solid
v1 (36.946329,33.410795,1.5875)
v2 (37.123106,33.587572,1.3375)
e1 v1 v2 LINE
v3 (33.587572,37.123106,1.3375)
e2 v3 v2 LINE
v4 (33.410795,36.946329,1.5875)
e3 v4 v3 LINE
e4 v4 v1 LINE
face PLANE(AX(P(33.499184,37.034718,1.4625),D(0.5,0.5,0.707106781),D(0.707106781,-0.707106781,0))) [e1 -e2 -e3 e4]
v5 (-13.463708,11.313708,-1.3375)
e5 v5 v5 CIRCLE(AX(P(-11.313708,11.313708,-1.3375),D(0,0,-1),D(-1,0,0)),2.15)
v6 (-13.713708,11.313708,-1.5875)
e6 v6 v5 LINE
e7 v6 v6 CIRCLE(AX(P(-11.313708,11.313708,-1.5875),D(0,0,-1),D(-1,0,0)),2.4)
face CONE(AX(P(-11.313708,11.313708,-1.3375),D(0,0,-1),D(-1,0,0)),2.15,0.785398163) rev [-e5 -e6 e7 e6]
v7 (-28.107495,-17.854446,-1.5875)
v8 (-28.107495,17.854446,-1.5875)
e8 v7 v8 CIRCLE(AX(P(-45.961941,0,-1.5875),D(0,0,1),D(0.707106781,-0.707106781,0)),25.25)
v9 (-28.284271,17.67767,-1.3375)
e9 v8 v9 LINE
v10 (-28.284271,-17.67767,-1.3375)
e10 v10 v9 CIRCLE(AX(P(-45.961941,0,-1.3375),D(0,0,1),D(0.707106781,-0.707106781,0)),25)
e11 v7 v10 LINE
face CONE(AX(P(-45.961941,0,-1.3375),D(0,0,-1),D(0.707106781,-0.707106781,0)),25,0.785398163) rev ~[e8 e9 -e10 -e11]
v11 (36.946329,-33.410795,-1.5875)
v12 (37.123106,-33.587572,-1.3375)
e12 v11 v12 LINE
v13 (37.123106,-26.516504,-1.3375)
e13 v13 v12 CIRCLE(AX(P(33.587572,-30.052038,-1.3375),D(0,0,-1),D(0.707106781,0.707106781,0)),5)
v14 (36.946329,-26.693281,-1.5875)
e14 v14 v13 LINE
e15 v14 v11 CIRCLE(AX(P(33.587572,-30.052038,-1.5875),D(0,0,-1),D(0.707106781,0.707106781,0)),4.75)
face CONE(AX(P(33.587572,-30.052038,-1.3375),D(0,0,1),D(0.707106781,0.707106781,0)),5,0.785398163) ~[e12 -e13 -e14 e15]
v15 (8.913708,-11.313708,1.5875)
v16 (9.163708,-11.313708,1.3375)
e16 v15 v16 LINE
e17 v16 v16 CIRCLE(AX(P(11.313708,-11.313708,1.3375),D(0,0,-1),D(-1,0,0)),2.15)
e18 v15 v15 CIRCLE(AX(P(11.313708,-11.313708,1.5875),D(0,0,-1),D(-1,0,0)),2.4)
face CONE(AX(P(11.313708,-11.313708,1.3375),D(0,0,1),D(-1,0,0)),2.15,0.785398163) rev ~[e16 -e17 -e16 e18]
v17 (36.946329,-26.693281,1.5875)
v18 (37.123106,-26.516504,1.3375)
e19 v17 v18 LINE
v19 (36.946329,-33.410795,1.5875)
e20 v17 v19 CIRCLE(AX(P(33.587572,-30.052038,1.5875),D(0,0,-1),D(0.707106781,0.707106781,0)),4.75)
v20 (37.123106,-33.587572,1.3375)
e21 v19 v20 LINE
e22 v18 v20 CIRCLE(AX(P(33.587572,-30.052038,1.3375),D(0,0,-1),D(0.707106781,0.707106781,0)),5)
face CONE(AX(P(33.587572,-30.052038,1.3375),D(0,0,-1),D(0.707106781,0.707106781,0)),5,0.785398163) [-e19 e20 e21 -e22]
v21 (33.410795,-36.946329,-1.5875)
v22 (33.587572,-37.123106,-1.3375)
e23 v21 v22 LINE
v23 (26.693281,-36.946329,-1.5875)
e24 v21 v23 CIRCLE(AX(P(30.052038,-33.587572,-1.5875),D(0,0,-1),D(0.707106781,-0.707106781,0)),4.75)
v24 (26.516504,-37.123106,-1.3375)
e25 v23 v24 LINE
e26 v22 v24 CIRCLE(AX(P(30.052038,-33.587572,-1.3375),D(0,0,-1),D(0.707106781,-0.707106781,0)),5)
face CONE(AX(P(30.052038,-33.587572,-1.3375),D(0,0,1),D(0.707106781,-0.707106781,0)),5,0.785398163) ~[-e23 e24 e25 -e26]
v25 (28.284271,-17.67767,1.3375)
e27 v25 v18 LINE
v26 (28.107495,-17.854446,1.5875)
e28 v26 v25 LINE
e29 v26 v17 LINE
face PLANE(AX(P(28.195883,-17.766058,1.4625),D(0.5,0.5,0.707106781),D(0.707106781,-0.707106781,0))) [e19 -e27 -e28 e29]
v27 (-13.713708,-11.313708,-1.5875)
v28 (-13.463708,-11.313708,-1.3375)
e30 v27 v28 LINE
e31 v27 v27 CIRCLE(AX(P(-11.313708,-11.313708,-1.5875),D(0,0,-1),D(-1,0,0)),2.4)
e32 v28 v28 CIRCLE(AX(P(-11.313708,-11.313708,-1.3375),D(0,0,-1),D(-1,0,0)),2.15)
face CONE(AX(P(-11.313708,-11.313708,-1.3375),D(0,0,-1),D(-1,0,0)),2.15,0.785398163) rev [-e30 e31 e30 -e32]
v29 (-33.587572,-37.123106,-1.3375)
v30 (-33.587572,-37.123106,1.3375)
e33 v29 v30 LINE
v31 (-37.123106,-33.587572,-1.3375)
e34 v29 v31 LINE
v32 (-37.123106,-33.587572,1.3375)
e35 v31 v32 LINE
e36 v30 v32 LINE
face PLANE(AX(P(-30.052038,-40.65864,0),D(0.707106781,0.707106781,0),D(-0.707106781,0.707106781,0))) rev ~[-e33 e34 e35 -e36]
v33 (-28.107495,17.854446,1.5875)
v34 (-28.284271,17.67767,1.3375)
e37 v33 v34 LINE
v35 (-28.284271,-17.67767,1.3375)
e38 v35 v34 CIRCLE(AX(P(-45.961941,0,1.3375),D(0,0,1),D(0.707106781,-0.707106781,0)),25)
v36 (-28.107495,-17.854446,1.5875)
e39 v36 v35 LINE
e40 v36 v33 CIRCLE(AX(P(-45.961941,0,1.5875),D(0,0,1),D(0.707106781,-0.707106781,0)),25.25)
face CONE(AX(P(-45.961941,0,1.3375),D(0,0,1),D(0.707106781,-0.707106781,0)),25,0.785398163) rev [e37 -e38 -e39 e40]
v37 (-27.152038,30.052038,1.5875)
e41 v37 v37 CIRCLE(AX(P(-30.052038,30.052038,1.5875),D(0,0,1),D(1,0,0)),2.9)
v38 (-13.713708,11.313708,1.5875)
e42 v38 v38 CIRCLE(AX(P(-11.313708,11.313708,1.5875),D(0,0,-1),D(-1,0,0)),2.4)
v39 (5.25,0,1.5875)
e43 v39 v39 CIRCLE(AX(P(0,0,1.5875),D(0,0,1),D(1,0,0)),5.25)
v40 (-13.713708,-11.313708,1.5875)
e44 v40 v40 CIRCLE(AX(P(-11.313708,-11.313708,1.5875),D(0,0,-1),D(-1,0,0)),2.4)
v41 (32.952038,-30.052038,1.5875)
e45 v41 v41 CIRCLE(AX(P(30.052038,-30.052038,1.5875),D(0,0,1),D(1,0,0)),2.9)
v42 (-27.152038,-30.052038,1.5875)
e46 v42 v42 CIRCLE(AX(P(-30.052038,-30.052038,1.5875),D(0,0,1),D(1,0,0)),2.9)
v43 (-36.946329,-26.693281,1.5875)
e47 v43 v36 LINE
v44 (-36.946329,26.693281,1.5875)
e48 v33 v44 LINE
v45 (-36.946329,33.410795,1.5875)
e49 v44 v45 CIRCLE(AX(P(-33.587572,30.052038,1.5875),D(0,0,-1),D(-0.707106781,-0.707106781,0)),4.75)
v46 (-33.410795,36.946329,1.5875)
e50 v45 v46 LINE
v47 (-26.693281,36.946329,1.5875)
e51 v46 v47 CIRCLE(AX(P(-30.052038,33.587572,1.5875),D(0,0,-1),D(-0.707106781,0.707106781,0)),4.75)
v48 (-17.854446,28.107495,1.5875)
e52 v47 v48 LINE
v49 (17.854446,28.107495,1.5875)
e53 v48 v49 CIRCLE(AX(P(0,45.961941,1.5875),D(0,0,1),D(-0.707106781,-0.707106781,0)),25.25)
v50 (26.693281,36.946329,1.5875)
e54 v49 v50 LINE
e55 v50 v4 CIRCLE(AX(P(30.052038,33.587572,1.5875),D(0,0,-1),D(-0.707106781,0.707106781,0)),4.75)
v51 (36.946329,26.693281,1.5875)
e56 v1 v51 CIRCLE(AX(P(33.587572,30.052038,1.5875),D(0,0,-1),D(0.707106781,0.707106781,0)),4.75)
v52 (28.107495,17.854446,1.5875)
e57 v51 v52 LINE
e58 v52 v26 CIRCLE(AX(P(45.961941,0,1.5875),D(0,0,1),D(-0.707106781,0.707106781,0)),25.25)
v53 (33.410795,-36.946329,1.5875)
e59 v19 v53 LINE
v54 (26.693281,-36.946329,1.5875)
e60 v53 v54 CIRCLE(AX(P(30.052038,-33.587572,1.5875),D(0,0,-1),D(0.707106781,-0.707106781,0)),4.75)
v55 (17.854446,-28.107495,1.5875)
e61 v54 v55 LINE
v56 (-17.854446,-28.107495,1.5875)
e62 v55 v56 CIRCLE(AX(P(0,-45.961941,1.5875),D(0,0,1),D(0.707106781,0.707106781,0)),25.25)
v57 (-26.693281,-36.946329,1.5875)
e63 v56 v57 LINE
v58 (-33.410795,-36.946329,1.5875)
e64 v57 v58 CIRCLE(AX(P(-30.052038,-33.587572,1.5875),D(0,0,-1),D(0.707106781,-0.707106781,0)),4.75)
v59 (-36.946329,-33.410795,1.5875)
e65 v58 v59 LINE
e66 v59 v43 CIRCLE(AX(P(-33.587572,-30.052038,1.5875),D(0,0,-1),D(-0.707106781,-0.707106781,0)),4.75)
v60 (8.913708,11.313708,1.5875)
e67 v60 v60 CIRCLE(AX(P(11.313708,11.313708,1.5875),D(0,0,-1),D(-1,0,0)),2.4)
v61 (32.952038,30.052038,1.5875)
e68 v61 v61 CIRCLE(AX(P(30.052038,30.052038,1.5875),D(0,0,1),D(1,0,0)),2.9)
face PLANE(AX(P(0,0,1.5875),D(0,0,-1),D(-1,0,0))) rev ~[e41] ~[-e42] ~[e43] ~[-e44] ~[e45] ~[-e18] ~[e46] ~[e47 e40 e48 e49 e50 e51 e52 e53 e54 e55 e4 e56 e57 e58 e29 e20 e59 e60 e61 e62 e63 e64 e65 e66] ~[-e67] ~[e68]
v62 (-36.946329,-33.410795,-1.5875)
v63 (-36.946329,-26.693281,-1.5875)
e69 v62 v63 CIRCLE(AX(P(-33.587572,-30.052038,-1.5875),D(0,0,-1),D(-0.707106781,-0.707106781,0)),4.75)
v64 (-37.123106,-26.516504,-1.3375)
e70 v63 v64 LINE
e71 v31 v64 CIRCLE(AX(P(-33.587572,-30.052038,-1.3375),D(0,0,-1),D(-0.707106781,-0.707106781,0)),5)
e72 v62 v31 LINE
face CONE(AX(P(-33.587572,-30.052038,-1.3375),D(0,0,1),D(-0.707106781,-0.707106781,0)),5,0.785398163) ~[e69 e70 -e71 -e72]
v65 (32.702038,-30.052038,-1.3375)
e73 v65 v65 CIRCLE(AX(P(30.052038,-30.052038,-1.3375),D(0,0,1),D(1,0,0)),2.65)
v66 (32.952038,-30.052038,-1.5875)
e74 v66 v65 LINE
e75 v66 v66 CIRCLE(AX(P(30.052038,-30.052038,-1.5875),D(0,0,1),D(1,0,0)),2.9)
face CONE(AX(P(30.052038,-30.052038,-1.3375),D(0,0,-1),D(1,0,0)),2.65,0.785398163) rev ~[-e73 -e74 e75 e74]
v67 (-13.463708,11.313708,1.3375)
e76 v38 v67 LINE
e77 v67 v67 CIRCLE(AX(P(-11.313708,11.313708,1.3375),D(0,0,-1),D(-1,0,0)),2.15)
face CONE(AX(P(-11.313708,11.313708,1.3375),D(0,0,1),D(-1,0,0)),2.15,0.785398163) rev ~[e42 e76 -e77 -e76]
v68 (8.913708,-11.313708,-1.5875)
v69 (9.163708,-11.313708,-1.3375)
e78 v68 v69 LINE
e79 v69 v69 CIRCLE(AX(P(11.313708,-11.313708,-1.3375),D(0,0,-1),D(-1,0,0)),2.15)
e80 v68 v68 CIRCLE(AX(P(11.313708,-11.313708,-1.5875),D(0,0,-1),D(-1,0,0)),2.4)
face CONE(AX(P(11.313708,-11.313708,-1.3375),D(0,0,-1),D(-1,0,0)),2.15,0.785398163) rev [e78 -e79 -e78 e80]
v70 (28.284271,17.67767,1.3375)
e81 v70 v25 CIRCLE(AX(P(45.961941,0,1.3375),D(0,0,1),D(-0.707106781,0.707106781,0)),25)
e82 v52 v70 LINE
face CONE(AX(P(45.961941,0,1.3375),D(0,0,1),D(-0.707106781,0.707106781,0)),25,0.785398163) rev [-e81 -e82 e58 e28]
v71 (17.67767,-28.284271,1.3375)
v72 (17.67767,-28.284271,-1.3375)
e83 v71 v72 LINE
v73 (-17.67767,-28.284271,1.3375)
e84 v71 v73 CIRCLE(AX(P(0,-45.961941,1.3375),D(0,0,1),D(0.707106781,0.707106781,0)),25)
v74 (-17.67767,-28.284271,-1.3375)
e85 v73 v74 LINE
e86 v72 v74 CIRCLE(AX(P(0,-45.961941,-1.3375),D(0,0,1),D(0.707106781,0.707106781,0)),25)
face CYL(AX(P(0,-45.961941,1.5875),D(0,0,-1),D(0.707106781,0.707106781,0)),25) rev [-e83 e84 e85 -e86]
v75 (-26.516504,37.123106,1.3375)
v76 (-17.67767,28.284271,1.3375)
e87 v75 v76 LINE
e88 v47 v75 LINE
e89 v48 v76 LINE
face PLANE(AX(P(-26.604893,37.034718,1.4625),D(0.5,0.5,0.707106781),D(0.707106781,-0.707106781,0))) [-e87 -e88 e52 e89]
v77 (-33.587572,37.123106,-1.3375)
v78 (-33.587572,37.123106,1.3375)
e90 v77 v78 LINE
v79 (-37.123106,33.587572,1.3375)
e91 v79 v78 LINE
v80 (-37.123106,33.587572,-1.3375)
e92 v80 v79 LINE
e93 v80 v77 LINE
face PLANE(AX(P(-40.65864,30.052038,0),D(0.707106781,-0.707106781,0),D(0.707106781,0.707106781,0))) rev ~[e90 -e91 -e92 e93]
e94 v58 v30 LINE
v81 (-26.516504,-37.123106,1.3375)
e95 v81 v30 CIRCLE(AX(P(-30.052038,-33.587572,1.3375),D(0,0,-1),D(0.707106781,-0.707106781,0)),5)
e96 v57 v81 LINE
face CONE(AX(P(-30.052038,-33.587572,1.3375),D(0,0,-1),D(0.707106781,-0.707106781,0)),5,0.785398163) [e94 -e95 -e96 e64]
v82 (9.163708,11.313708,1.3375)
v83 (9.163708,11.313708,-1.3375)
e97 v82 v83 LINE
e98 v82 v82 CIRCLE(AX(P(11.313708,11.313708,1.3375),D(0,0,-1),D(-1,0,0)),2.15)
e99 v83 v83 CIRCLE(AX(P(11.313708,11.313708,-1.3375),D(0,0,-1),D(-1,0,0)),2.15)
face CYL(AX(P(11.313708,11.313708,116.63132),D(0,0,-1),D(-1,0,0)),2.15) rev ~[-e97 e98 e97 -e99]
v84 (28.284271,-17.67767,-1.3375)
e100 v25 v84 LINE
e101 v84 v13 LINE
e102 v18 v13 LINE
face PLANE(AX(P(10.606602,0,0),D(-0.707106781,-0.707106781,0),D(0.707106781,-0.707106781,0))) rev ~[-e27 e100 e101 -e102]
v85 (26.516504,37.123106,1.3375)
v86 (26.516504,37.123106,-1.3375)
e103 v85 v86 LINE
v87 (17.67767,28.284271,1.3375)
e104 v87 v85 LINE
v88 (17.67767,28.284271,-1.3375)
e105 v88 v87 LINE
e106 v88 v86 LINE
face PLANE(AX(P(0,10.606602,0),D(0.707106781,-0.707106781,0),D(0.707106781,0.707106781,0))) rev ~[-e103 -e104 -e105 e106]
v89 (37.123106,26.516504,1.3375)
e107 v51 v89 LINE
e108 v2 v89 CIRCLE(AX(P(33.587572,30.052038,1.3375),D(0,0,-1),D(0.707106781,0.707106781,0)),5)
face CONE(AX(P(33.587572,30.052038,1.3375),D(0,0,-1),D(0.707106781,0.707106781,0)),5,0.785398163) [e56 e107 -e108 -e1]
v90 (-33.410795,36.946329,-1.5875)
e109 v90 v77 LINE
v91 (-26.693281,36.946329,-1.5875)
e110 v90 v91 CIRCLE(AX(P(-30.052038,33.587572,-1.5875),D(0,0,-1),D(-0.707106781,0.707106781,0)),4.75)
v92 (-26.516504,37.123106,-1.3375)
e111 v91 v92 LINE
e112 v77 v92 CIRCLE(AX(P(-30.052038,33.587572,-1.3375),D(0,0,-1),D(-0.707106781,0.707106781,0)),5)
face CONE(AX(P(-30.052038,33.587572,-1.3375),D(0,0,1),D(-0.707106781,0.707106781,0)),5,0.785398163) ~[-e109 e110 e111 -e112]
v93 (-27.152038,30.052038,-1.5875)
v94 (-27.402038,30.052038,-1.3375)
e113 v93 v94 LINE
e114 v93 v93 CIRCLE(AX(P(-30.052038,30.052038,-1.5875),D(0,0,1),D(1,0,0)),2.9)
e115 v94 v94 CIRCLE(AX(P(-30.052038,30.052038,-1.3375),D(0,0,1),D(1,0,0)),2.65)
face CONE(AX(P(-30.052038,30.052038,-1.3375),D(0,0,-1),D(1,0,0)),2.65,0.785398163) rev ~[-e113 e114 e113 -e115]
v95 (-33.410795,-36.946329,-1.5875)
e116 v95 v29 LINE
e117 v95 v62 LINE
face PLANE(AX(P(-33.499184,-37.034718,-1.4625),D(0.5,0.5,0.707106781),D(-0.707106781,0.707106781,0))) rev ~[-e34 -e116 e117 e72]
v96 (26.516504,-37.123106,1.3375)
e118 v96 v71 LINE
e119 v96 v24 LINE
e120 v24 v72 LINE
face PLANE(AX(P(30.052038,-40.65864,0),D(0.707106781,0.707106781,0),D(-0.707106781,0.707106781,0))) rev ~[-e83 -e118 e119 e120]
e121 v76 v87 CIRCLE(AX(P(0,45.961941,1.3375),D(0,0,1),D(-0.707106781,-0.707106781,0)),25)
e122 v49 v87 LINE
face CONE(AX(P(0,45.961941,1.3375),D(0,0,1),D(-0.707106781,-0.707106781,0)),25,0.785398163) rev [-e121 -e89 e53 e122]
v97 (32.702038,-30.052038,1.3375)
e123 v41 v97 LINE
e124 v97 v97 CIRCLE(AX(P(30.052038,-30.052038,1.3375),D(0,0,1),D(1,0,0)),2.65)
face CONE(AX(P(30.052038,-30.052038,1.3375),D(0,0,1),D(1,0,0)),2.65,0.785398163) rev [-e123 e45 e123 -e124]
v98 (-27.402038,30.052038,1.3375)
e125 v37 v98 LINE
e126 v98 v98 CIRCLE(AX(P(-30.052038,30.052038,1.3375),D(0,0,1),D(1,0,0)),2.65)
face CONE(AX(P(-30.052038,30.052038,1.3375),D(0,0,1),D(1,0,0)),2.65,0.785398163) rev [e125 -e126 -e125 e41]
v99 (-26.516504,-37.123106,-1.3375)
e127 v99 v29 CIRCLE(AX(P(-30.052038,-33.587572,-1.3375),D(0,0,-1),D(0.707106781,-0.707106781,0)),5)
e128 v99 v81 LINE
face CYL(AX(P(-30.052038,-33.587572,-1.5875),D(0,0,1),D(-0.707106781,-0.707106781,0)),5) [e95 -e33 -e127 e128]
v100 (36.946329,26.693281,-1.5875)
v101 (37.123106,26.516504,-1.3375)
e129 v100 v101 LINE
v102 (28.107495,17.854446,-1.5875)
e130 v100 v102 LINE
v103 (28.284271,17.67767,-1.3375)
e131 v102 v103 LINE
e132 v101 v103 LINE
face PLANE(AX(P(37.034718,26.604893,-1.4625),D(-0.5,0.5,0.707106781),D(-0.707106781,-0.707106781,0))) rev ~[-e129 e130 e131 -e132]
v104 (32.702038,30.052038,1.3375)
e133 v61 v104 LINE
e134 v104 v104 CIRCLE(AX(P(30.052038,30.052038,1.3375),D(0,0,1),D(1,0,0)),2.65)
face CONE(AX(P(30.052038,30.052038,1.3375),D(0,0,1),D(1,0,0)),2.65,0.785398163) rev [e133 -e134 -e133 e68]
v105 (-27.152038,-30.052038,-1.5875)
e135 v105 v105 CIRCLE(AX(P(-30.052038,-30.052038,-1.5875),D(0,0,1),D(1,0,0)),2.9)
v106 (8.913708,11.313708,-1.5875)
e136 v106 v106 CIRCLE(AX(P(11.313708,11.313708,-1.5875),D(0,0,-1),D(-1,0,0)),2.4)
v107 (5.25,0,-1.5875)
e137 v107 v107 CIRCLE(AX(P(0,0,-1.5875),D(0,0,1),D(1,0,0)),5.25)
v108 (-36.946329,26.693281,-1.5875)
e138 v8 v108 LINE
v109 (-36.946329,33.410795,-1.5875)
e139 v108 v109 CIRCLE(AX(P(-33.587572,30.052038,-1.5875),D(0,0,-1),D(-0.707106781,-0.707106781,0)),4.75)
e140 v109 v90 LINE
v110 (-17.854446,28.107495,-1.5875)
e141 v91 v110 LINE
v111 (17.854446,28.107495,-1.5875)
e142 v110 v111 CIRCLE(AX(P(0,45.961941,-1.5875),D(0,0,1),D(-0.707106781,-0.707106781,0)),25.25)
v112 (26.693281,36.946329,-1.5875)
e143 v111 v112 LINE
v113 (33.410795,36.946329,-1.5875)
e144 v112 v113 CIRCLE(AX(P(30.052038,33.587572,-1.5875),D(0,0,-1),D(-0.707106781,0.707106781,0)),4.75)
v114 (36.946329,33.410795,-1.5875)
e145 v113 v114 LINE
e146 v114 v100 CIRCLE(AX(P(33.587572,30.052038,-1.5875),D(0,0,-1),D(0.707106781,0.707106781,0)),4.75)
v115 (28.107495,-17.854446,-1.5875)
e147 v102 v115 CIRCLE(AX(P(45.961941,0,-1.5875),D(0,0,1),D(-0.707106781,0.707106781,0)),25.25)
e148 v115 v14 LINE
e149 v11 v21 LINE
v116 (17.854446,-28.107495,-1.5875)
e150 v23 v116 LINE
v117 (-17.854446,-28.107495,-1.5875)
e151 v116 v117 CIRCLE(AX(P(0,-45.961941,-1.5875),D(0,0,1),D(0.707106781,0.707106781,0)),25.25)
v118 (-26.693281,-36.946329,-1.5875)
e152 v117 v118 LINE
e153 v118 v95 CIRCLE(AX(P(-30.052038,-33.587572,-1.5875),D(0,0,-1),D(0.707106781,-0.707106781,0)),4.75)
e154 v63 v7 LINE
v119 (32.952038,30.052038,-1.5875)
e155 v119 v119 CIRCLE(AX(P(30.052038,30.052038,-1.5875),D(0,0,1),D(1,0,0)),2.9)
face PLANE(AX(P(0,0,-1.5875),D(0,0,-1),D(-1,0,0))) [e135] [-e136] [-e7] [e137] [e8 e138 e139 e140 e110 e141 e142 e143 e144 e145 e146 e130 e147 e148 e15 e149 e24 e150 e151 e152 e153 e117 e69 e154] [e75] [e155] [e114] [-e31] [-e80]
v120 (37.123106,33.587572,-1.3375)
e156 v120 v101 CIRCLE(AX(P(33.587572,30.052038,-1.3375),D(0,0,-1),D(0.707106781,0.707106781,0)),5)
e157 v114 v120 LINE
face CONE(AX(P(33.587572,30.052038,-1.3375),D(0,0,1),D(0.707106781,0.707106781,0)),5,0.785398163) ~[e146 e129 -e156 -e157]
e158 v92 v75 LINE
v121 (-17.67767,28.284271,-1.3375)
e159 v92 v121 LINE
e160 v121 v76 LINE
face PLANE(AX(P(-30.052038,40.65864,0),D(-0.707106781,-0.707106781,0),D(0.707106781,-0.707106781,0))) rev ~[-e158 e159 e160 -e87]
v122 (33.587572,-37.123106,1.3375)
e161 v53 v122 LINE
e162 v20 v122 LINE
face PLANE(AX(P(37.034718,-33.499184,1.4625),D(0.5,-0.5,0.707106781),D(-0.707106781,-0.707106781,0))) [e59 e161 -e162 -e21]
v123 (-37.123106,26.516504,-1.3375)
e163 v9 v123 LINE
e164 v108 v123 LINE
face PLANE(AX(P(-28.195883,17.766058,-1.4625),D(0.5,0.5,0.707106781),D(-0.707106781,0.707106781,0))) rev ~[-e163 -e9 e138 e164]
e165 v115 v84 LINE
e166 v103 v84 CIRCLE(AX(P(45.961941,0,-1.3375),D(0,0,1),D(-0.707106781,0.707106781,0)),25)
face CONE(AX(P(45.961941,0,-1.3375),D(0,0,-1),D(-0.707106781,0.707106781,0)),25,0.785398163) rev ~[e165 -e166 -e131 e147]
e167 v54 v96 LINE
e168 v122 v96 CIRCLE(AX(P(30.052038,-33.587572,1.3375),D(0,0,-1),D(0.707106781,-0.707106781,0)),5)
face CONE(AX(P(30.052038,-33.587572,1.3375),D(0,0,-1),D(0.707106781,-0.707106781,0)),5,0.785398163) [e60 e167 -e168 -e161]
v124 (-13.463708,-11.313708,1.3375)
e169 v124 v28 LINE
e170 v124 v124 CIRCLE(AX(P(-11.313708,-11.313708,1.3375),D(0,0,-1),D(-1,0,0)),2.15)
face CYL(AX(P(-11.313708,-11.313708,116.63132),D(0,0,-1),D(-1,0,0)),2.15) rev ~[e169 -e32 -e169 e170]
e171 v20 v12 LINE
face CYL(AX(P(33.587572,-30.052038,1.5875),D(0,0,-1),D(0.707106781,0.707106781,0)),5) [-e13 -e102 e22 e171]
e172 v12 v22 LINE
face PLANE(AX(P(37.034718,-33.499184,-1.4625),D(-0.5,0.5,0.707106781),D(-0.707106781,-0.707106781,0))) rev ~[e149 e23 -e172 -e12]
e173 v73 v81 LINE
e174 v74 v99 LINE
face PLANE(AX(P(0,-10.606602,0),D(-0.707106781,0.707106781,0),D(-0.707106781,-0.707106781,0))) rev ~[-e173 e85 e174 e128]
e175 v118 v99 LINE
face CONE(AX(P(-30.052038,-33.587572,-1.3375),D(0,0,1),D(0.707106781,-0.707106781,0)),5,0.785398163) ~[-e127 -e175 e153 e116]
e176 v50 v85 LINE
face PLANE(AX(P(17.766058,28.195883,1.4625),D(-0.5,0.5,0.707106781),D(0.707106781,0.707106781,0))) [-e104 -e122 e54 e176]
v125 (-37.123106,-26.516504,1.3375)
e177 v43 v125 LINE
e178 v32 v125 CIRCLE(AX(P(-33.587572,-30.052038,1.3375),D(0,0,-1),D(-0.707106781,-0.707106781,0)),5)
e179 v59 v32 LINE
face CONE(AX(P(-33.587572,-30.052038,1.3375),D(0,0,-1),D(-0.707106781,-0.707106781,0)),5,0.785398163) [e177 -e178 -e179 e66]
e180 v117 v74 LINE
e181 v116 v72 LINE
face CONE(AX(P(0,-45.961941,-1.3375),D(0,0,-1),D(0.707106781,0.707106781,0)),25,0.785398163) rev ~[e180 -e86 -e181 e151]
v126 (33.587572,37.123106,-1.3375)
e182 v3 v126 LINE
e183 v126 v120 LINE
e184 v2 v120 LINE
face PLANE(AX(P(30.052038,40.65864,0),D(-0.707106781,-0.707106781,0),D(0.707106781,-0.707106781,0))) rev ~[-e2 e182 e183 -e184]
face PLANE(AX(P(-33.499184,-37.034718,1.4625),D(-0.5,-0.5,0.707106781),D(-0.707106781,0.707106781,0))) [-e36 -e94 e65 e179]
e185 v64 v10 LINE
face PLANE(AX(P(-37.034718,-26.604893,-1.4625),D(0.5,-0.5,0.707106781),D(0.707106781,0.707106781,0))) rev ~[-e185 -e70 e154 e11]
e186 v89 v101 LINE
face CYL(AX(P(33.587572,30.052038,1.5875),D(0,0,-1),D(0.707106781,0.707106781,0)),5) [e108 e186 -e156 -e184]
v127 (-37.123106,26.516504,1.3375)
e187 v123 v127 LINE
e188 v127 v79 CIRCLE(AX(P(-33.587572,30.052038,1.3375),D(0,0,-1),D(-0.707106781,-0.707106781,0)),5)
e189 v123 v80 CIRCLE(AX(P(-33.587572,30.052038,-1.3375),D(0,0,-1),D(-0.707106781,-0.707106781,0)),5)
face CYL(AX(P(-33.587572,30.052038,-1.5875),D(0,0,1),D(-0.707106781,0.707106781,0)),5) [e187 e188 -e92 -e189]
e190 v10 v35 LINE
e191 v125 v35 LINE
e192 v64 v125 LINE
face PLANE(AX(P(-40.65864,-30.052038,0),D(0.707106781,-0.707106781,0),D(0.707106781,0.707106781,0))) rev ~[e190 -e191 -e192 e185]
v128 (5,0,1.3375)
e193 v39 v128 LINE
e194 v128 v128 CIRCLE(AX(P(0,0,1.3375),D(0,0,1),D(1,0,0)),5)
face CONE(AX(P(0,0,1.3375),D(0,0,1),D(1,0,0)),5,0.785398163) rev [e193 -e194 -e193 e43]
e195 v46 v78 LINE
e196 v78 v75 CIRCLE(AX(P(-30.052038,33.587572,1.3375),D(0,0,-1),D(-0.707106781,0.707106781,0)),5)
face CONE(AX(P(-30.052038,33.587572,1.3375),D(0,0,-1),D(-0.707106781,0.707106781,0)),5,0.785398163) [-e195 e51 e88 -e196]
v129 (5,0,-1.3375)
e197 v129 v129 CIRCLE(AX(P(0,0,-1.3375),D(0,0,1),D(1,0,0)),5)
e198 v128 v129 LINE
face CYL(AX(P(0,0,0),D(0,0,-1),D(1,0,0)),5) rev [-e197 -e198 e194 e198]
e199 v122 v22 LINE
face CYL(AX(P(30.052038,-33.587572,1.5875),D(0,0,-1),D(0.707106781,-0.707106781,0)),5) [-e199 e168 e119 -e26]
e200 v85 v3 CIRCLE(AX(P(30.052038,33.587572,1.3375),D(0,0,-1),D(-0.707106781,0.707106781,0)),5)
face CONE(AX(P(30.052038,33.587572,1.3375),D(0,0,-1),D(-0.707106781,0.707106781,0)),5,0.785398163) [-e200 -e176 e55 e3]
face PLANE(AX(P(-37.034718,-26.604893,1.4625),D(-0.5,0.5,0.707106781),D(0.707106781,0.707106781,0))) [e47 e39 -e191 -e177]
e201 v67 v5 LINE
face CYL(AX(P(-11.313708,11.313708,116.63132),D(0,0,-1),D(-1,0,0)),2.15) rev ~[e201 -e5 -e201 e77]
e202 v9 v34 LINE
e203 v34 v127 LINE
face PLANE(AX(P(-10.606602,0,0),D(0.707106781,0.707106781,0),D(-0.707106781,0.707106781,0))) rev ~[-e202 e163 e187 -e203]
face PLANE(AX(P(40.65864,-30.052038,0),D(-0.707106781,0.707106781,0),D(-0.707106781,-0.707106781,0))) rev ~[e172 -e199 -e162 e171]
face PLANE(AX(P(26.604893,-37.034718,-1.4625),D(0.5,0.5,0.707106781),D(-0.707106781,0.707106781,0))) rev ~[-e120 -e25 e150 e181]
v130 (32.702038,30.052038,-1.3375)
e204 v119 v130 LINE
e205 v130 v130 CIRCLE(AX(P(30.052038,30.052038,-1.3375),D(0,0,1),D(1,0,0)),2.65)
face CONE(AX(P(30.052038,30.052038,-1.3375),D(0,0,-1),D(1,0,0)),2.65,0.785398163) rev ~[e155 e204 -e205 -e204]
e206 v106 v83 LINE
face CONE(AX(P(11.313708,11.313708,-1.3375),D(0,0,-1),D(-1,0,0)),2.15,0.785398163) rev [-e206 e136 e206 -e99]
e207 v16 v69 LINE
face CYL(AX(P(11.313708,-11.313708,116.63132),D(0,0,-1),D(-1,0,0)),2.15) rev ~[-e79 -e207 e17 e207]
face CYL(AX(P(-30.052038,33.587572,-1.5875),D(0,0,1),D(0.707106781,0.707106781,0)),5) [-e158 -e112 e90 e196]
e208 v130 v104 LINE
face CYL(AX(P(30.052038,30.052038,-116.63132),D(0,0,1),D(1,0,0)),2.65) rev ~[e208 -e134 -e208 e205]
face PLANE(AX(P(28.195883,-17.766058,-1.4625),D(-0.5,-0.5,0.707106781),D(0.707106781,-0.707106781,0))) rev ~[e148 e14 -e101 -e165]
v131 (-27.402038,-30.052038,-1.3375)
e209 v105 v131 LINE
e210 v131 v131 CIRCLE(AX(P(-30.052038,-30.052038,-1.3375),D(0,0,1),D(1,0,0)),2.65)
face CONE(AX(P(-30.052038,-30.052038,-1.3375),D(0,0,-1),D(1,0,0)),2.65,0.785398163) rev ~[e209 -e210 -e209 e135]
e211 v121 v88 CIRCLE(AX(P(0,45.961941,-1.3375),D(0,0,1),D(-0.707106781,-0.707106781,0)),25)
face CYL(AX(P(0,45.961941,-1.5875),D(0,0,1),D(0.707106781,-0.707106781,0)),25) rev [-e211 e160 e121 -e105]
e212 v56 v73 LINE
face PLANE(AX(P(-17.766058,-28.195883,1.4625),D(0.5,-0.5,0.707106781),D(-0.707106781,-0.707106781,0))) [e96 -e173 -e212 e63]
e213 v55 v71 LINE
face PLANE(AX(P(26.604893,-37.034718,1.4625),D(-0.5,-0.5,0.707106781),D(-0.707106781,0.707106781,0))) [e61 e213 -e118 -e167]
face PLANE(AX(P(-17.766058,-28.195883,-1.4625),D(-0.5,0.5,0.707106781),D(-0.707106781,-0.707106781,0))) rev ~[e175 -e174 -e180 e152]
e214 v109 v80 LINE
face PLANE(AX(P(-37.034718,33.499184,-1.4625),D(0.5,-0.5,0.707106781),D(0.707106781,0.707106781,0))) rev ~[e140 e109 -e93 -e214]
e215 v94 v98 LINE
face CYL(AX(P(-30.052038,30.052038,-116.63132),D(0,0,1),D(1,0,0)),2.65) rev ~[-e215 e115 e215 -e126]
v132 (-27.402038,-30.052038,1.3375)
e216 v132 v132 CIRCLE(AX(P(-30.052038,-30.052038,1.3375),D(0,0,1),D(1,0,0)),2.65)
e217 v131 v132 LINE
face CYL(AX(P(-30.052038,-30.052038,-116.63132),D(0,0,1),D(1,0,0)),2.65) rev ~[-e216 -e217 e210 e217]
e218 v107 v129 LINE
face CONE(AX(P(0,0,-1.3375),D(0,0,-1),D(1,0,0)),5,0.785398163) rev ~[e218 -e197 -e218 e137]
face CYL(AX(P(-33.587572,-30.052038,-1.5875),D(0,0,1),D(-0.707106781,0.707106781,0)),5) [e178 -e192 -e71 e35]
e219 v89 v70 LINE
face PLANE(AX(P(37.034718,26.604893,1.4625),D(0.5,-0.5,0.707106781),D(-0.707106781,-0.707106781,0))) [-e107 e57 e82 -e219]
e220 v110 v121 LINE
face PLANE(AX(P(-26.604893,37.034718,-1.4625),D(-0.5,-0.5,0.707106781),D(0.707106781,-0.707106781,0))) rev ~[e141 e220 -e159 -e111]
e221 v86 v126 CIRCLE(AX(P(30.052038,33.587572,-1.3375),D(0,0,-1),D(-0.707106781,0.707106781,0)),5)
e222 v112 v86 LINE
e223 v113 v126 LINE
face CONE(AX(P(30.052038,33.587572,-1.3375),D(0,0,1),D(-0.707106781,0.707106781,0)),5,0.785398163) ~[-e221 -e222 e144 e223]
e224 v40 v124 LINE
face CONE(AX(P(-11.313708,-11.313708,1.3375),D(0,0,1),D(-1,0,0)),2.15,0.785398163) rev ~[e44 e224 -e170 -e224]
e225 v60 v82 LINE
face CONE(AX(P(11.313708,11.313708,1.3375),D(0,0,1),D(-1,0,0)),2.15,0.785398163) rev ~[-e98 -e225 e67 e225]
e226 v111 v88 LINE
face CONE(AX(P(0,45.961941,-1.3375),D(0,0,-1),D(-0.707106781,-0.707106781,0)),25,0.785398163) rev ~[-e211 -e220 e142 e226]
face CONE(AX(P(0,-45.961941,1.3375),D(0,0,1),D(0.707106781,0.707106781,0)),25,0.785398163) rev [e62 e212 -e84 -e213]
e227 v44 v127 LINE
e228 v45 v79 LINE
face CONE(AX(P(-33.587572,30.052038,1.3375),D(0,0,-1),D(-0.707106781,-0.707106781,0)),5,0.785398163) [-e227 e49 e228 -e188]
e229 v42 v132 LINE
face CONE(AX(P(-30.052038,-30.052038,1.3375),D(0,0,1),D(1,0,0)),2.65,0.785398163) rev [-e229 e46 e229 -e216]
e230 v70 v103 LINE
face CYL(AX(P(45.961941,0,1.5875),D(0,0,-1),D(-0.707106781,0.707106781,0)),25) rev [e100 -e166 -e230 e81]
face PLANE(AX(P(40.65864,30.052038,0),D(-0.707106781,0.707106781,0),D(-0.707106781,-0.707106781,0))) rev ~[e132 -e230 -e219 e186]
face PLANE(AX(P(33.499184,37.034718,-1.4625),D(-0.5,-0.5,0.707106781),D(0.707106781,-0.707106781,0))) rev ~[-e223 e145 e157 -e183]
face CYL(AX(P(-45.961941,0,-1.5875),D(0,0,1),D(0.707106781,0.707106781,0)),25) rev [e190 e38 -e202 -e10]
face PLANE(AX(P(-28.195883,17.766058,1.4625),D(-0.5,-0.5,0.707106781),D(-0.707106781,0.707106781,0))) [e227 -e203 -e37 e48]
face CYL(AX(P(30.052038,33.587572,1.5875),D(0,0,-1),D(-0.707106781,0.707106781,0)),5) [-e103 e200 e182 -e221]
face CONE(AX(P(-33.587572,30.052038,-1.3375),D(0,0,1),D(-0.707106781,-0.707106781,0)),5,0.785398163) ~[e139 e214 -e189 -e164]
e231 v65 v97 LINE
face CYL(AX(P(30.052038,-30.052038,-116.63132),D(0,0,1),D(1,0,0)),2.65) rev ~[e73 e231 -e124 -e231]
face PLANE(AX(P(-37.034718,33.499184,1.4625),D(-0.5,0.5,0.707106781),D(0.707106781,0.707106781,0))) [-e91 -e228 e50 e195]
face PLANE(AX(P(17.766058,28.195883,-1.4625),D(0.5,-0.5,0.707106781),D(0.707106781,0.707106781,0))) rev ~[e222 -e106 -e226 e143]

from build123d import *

# Parameters (mm, degrees)
SKETCH1_R            = 5
BOSS_EXTRUDE1_DEPTH  = 1.5875
M4_CLEARANCE_HOLE1_D = 4.3
M5_CLEARANCE_HOLE1_D = 5.3
FILLET1_R            = 25
FILLET2_R            = 5
CHAMFER1_SIZE        = 0.25


with BuildPart() as part:
    # Sketch1 → Boss-Extrude1 (new, symmetric)
    with BuildSketch(Plane.XY):
        Polygon((0, 10.606601718), (30.0520382, 40.658639918), (40.658639918, 30.0520382), (10.606601718, 0), (40.658639918, -30.0520382), (30.0520382, -40.658639918), (0, -10.606601718), (-30.0520382, -40.658639918), (-40.658639918, -30.0520382), (-10.606601718, 0), (-40.658639918, 30.0520382), (-30.0520382, 40.658639918), align=None)
        Circle(SKETCH1_R, mode=Mode.SUBTRACT)
    extrude(amount=BOSS_EXTRUDE1_DEPTH, both=True)

    # M4 Clearance Hole1 (through all)
    with Locations(Plane.XY.offset(1.5875)):
        with Locations((-11.313708499, 11.313708499), (11.313708499, 11.313708499), (11.313708499, -11.313708499), (-11.313708499, -11.313708499)):
            Hole(M4_CLEARANCE_HOLE1_D / 2)

    # M5 Clearance Hole1 (through all)
    with Locations(Plane(origin=(0, 0, -1.5875), x_dir=(-1, 0, 0), z_dir=(0, 0, -1))):
        with Locations((-30.0520382, 30.0520382), (30.0520382, 30.0520382), (30.0520382, -30.0520382), (-30.0520382, -30.0520382)):
            Hole(M5_CLEARANCE_HOLE1_D / 2)

    # Fillet1
    fillet1_edges = [part.edges().sort_by_distance(p)[0] for p in [
        (0, 10.606601718, 0),
        (10.606601718, 0, 0),
        (0, -10.606601718, 0),
        (-10.606601718, 0, 0),
    ]]
    fillet(fillet1_edges, radius=FILLET1_R)

    # Fillet2
    fillet2_edges = [part.edges().sort_by_distance(p)[0] for p in [
        (30.0520382, 40.658639918, 0),
        (40.658639918, 30.0520382, 0),
        (40.658639918, -30.0520382, 0),
        (30.0520382, -40.658639918, 0),
        (-30.0520382, -40.658639918, 0),
        (-40.658639918, -30.0520382, 0),
        (-40.658639918, 30.0520382, 0),
        (-30.0520382, 40.658639918, 0),
    ]]
    fillet(fillet2_edges, radius=FILLET2_R)

    # Chamfer1
    chamfer1_edges = [part.edges().sort_by_distance(p)[0] for p in [
        (-22.097086912, 32.70368863, -1.5875),
        (-22.097086912, 32.70368863, 1.5875),
        (-20.961940777, 0, -1.5875),
        (-20.961940777, 0, 1.5875),
        (0, -20.961940777, -1.5875),
        (0, -20.961940777, 1.5875),
        (20.961940777, 0, -1.5875),
        (20.961940777, 0, 1.5875),
        (0, 20.961940777, -1.5875),
        (0, 20.961940777, 1.5875),
        (32.70368863, -22.097086912, -1.5875),
        (32.70368863, -22.097086912, 1.5875),
        (22.097086912, 32.70368863, -1.5875),
        (35.355339059, 35.355339059, -1.5875),
        (35.355339059, -35.355339059, -1.5875),
        (-22.097086912, -32.70368863, -1.5875),
        (-35.355339059, -35.355339059, -1.5875),
        (-32.70368863, 22.097086912, -1.5875),
        (-35.355339059, 35.355339059, -1.5875),
        (38.587572106, 30.0520382, -1.5875),
        (30.0520382, 38.587572106, -1.5875),
        (-30.0520382, 38.587572106, -1.5875),
        (-38.587572106, 30.0520382, -1.5875),
        (-38.587572106, -30.0520382, -1.5875),
        (-30.0520382, -38.587572106, -1.5875),
        (30.0520382, -38.587572106, -1.5875),
        (38.587572106, -30.0520382, -1.5875),
        (35.355339059, -35.355339059, 1.5875),
        (22.097086912, 32.70368863, 1.5875),
        (-35.355339059, 35.355339059, 1.5875),
        (-32.70368863, 22.097086912, 1.5875),
        (-35.355339059, -35.355339059, 1.5875),
        (-22.097086912, -32.70368863, 1.5875),
        (35.355339059, 35.355339059, 1.5875),
        (38.587572106, 30.0520382, 1.5875),
        (30.0520382, 38.587572106, 1.5875),
        (-30.0520382, 38.587572106, 1.5875),
        (-38.587572106, 30.0520382, 1.5875),
        (-38.587572106, -30.0520382, 1.5875),
        (-30.0520382, -38.587572106, 1.5875),
        (30.0520382, -38.587572106, 1.5875),
        (38.587572106, -30.0520382, 1.5875),
        (-5, 0, -1.5875),
        (-5, 0, 1.5875),
        (-9.163708499, 11.313708499, 1.5875),
        (-9.163708499, 11.313708499, -1.5875),
        (-9.163708499, -11.313708499, 1.5875),
        (-9.163708499, -11.313708499, -1.5875),
        (13.463708499, -11.313708499, 1.5875),
        (13.463708499, -11.313708499, -1.5875),
        (13.463708499, 11.313708499, 1.5875),
        (13.463708499, 11.313708499, -1.5875),
        (27.4020382, -30.0520382, -1.5875),
        (27.4020382, -30.0520382, 1.5875),
        (-32.7020382, -30.0520382, -1.5875),
        (-32.7020382, -30.0520382, 1.5875),
        (-32.7020382, 30.0520382, -1.5875),
        (-32.7020382, 30.0520382, 1.5875),
        (27.4020382, 30.0520382, -1.5875),
        (27.4020382, 30.0520382, 1.5875),
        (-32.70368863, -22.097086912, -1.5875),
        (-32.70368863, -22.097086912, 1.5875),
        (22.097086912, -32.70368863, -1.5875),
        (22.097086912, -32.70368863, 1.5875),
        (32.70368863, 22.097086912, -1.5875),
        (32.70368863, 22.097086912, 1.5875),
    ]]
    chamfer(chamfer1_edges, length=CHAMFER1_SIZE)


solid = part.part
